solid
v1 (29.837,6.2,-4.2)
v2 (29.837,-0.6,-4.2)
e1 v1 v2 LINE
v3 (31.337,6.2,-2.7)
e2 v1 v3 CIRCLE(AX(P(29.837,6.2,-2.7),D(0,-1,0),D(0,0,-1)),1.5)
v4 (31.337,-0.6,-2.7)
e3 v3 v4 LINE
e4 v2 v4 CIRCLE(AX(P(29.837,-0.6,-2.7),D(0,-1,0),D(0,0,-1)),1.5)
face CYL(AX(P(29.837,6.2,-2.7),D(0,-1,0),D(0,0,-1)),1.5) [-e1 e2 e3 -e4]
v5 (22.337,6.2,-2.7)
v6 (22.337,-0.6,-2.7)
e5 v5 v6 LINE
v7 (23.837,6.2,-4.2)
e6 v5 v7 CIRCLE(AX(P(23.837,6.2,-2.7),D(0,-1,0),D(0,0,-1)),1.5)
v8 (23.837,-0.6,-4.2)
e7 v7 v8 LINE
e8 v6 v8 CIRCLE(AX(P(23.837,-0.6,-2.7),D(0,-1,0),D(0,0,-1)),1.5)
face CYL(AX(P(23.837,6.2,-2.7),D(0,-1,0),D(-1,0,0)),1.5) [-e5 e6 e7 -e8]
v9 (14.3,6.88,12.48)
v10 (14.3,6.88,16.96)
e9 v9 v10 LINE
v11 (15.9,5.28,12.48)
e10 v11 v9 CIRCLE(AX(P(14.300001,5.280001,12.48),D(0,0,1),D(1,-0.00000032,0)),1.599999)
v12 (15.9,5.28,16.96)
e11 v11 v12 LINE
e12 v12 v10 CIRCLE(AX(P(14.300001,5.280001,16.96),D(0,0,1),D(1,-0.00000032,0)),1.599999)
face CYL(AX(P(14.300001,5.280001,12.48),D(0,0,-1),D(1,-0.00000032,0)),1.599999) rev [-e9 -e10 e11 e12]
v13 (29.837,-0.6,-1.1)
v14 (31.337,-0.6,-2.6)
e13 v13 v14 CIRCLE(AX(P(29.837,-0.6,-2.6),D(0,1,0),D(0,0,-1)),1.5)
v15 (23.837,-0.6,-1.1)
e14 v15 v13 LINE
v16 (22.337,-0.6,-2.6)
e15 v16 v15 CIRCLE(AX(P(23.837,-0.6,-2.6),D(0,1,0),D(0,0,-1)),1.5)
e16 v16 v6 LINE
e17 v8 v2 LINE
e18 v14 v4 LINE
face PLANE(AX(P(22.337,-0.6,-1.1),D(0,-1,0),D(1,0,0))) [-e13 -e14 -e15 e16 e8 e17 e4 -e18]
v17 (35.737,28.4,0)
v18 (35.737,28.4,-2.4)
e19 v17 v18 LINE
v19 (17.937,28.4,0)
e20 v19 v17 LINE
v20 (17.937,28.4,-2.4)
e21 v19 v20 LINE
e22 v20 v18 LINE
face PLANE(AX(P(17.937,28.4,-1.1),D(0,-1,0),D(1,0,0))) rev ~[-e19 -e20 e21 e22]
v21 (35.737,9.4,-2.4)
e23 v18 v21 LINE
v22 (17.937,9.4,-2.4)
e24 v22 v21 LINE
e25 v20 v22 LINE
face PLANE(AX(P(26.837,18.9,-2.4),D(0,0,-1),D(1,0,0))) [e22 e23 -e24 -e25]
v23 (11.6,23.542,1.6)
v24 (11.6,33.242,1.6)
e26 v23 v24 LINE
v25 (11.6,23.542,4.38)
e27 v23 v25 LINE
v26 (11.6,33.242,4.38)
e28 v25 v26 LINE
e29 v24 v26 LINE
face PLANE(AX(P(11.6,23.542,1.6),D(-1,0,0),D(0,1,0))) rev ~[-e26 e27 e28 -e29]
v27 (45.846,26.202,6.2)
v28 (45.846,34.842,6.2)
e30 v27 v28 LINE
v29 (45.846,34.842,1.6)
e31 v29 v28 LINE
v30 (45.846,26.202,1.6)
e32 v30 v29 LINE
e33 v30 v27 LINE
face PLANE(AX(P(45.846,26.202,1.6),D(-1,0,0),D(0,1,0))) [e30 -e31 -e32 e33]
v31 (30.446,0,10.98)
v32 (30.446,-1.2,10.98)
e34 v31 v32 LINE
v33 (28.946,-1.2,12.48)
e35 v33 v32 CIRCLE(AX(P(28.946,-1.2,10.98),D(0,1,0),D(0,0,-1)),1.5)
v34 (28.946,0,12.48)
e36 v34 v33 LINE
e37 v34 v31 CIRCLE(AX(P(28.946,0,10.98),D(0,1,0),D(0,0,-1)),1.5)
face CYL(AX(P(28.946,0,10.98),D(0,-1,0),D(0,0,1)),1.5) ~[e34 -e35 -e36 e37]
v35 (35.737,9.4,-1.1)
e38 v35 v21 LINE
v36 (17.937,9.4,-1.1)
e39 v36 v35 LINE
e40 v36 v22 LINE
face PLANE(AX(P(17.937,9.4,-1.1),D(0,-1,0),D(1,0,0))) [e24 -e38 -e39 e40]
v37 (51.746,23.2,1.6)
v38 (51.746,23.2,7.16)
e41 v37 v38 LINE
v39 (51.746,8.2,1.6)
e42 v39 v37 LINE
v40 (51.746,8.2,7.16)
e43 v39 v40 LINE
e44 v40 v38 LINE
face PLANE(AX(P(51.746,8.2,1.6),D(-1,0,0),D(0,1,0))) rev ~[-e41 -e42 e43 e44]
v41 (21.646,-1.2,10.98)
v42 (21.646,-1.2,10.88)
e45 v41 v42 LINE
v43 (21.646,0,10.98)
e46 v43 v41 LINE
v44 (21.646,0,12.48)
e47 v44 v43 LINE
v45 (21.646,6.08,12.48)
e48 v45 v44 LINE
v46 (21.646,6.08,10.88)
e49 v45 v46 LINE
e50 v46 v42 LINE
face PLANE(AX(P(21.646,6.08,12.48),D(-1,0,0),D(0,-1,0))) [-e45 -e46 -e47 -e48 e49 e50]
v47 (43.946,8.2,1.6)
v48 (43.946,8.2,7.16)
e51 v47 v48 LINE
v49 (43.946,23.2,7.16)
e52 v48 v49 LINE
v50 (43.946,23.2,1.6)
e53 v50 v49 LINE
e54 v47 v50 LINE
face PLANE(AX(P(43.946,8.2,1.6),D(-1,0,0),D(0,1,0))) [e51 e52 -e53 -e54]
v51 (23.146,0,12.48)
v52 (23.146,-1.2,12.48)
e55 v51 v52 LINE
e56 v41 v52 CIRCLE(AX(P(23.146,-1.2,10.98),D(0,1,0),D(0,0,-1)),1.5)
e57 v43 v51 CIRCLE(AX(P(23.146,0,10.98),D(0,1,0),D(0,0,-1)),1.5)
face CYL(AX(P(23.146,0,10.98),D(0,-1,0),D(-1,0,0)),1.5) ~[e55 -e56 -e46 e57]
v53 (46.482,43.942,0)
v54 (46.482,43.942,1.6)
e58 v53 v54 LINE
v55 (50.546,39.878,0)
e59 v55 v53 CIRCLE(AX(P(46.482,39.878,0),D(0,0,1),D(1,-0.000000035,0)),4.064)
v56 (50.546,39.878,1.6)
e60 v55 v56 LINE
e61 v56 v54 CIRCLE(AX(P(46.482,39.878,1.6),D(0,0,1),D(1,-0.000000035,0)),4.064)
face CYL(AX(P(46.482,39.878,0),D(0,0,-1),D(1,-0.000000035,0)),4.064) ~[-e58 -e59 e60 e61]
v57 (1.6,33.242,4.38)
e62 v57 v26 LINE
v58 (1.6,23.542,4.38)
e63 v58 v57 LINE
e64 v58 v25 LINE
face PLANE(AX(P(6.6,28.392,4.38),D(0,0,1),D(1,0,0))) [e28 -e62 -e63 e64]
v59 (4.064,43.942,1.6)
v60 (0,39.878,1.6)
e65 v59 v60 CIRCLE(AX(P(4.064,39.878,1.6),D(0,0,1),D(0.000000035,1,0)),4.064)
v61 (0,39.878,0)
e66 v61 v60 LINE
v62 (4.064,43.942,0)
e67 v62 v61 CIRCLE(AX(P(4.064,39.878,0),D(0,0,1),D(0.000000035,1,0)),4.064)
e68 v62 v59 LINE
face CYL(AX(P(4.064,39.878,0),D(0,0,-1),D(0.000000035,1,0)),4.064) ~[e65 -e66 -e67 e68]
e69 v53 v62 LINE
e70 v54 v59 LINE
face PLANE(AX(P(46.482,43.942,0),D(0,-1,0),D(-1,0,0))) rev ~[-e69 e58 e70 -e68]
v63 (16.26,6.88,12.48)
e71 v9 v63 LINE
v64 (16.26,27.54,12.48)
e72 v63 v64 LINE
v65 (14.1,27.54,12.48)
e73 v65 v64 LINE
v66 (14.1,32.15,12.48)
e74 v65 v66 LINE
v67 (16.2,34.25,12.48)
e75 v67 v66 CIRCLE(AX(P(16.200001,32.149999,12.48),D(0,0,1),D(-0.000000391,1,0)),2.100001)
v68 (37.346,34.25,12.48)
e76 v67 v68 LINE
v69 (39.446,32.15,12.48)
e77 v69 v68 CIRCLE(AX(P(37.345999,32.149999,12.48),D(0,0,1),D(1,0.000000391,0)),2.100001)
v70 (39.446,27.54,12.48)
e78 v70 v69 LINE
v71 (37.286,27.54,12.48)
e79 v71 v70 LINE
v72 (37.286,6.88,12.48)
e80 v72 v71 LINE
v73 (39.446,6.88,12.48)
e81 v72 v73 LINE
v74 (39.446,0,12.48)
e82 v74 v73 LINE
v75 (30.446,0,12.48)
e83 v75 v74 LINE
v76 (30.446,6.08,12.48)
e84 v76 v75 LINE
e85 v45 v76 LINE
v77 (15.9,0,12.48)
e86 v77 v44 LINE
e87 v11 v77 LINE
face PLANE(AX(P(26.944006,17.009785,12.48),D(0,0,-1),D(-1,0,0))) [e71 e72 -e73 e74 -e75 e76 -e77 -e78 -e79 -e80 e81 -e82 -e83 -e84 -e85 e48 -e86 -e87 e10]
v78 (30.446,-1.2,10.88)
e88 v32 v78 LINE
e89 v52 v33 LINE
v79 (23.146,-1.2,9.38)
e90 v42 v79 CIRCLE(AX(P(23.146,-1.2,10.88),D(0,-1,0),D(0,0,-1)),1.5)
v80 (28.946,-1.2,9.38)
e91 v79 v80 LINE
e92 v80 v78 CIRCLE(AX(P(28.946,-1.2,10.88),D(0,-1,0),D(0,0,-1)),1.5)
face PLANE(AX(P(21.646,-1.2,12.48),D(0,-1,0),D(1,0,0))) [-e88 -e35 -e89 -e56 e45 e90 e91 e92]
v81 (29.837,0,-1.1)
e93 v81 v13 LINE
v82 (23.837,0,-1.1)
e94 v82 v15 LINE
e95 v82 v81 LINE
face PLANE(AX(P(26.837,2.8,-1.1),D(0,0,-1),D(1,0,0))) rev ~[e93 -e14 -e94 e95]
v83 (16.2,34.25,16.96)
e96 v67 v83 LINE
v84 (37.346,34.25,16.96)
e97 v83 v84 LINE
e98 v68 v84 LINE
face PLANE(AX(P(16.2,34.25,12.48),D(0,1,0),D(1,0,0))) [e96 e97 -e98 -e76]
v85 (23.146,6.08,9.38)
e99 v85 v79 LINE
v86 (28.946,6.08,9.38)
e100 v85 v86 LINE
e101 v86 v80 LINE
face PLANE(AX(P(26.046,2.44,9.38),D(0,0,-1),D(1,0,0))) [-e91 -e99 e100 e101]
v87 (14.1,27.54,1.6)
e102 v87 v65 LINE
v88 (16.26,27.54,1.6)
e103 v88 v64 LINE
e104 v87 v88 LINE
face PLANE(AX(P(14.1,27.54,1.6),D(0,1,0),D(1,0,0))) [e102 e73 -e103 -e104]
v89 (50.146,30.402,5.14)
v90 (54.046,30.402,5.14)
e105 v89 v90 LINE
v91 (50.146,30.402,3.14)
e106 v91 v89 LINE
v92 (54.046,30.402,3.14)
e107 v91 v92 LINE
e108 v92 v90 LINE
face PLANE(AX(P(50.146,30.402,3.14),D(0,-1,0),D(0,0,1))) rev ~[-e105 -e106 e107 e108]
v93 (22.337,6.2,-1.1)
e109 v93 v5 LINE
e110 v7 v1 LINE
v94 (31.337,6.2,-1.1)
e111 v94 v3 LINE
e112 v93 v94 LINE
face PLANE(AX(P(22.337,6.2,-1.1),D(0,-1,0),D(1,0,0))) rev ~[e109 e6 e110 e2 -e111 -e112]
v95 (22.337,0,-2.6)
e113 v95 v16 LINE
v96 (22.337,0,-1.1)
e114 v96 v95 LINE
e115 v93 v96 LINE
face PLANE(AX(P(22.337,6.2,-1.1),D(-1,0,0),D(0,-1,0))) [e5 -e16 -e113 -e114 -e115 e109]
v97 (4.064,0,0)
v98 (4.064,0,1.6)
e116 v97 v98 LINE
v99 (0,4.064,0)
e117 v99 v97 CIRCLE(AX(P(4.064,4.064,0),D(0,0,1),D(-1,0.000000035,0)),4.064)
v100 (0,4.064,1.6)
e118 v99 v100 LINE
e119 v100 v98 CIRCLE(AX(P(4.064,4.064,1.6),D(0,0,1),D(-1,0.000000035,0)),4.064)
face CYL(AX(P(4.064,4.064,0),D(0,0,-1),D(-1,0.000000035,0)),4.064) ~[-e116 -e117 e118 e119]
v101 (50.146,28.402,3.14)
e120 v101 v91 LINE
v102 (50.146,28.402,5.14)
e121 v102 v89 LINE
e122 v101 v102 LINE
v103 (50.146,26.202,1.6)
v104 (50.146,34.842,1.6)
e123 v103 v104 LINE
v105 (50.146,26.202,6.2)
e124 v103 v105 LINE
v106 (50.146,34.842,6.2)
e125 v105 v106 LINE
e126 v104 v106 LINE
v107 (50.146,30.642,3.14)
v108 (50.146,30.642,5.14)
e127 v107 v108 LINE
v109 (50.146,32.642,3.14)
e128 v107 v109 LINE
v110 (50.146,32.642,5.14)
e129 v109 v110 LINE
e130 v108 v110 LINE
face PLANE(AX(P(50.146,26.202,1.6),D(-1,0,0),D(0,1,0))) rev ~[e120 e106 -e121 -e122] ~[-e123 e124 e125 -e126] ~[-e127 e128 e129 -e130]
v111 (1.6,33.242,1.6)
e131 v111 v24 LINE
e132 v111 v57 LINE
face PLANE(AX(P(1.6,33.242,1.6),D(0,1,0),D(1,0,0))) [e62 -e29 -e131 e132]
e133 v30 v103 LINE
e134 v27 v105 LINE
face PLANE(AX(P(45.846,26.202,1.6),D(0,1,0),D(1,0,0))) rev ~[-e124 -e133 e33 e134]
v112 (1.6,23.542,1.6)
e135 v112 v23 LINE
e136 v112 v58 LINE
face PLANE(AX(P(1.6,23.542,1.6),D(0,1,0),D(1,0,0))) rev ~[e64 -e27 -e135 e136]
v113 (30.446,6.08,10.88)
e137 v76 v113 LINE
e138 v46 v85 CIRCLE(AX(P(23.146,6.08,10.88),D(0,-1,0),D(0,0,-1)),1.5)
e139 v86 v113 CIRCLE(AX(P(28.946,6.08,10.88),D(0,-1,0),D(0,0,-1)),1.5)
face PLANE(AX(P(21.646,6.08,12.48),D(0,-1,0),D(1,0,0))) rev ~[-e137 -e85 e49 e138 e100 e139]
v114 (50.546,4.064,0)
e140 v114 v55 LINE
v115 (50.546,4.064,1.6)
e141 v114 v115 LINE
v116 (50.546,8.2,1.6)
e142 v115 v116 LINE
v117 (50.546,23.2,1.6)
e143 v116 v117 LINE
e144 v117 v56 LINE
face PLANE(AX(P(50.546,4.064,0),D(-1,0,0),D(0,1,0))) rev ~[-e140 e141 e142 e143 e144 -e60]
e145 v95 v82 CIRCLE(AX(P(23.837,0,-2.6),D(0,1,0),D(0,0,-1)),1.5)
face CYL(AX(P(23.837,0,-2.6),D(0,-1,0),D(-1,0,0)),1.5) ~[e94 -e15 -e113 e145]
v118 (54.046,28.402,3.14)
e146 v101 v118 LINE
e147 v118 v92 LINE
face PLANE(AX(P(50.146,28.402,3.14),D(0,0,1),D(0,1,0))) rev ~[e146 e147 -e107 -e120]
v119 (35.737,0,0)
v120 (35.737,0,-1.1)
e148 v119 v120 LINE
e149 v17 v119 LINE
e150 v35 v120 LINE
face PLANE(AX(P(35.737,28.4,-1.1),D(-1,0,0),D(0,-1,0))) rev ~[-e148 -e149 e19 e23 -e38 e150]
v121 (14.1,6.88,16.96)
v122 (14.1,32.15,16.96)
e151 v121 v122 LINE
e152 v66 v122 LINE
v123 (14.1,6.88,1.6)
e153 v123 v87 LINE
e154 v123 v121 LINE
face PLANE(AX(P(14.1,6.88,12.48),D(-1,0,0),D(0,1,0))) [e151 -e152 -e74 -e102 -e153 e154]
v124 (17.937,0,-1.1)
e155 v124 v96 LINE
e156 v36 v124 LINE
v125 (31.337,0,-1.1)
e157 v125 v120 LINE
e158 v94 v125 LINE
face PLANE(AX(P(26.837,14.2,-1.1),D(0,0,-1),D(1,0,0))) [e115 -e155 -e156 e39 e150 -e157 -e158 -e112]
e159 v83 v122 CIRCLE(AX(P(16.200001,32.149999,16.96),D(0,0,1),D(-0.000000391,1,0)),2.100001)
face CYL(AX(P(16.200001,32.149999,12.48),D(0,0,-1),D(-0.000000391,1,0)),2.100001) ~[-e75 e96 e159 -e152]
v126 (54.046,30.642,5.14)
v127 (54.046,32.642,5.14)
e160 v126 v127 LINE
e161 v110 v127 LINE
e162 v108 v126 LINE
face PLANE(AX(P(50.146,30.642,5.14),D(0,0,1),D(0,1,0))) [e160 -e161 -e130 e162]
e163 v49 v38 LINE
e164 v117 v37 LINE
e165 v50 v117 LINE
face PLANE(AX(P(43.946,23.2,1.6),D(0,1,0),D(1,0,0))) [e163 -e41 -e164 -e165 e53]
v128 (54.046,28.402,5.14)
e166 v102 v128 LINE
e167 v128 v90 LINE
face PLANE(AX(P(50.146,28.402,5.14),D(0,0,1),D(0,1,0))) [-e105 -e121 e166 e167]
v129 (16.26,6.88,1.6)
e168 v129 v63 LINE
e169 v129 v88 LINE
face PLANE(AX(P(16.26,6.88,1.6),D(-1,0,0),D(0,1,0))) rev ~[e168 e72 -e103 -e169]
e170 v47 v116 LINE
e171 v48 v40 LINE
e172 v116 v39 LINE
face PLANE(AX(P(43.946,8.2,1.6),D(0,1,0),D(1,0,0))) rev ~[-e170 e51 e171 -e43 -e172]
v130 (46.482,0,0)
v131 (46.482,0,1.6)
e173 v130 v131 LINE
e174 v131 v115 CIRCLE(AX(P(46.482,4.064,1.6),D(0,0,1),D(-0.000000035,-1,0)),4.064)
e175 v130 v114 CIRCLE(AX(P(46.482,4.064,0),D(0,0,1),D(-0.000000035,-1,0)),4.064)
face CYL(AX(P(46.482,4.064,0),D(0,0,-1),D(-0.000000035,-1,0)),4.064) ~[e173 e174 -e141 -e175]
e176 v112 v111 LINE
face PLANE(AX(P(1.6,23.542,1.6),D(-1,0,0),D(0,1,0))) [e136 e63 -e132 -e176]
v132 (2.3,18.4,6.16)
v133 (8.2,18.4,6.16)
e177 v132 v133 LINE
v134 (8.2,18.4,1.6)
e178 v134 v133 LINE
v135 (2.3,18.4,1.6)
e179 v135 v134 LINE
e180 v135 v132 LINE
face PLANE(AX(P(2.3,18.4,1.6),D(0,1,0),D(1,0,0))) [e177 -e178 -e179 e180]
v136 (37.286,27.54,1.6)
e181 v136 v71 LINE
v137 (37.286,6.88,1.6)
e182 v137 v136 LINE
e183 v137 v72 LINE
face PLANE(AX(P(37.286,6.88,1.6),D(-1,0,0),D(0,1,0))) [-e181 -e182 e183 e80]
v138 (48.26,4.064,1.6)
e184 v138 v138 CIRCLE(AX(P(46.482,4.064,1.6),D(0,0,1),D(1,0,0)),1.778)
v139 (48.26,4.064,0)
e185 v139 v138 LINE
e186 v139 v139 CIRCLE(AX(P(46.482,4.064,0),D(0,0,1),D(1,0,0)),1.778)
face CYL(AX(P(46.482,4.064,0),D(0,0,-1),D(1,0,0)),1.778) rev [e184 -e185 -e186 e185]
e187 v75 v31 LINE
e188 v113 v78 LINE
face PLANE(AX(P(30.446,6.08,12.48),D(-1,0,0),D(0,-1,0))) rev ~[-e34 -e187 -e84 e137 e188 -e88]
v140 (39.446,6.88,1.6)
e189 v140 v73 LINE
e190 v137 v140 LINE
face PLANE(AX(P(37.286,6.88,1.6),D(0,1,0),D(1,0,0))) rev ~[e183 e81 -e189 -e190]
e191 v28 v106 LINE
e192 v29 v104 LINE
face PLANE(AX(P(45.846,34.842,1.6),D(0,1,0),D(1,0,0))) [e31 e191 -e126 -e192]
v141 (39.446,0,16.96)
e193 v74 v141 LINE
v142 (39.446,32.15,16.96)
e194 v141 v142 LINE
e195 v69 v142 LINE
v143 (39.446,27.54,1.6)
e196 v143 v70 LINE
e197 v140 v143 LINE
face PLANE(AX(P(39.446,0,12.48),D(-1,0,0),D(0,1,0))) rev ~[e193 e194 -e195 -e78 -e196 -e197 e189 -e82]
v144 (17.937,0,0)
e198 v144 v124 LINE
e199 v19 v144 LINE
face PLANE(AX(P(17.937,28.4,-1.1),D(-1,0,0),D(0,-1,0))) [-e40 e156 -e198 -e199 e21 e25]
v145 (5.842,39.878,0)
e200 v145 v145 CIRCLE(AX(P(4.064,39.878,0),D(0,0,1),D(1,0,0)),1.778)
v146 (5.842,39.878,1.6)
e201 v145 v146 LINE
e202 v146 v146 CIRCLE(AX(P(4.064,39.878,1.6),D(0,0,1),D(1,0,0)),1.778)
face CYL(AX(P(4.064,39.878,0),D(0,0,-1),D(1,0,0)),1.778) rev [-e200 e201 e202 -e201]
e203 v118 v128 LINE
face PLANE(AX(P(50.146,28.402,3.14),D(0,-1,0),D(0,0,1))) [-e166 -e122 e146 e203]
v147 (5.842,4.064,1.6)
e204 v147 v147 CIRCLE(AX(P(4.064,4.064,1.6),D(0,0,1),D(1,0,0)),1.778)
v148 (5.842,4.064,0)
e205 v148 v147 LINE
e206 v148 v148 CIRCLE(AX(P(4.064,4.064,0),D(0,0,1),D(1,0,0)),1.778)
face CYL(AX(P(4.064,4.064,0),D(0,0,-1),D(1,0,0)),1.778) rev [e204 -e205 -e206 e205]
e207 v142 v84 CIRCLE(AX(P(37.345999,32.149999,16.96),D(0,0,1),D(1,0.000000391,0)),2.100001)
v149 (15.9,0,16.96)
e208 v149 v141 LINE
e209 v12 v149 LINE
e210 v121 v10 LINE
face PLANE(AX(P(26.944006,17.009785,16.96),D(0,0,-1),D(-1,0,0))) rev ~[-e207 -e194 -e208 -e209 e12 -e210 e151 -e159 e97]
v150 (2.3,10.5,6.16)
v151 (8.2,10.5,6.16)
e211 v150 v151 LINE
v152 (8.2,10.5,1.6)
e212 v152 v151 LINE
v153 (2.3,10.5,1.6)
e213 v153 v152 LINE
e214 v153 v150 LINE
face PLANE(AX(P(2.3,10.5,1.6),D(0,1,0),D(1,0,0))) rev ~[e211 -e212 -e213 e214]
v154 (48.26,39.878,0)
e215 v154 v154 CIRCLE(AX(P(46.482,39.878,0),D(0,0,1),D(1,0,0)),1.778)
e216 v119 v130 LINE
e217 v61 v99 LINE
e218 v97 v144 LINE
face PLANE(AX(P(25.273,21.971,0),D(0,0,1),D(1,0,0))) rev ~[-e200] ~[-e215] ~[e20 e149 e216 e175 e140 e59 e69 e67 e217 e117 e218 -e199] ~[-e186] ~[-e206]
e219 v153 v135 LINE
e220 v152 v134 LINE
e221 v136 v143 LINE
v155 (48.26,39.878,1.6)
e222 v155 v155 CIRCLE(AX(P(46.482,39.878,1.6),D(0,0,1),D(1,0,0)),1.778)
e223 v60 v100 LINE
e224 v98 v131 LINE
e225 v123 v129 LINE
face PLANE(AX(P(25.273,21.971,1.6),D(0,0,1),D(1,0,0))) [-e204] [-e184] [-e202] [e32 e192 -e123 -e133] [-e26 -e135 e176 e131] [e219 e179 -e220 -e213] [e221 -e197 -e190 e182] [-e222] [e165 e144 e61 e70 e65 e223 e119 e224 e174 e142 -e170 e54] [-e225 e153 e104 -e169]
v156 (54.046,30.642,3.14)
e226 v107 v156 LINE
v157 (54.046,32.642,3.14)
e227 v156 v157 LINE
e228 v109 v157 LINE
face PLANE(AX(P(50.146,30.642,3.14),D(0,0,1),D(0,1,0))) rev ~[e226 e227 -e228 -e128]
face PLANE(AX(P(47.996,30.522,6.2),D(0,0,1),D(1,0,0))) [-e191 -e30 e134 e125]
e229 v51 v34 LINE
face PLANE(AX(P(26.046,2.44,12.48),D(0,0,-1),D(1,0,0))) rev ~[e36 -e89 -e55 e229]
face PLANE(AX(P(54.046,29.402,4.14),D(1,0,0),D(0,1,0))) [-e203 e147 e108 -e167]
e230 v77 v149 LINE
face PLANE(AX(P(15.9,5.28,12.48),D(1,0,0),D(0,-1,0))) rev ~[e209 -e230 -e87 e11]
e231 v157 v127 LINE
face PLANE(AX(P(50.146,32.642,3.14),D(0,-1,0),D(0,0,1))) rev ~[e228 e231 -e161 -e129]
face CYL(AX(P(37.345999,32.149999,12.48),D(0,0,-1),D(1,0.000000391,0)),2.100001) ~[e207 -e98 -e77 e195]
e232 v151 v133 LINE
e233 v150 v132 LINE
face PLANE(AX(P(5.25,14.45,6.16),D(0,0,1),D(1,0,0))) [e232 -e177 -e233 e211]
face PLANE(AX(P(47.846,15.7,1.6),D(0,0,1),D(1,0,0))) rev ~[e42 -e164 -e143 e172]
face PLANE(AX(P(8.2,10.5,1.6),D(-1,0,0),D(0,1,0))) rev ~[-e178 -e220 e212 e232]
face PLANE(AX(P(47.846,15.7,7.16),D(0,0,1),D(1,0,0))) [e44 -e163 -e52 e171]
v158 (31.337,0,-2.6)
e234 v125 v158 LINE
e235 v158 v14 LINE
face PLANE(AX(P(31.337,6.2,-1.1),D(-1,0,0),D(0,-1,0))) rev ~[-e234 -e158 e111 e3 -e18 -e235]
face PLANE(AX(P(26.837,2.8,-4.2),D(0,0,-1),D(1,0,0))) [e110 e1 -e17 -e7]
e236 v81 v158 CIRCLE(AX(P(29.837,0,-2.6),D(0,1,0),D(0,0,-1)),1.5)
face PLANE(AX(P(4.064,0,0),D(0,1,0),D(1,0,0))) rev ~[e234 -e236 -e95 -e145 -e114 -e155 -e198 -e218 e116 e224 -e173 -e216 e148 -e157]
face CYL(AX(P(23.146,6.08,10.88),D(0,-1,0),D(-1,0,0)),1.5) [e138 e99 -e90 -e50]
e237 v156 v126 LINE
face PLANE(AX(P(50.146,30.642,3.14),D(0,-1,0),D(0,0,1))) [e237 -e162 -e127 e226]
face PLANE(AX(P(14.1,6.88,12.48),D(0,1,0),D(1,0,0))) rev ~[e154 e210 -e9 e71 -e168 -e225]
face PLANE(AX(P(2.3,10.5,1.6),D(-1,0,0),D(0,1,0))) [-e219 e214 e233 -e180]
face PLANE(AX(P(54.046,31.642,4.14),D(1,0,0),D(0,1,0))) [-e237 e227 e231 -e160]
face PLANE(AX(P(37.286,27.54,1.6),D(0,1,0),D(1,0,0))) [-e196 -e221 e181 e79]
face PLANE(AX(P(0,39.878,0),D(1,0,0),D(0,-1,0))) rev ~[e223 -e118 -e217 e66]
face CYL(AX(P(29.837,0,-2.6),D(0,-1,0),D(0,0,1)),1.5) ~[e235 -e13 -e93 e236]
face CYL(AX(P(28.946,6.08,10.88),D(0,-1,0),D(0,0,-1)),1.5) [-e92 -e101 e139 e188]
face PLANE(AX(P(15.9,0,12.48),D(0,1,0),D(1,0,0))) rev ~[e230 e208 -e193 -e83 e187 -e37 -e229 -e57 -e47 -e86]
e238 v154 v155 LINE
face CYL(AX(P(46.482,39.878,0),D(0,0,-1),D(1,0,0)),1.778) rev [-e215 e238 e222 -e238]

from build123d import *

# Parameters (mm, degrees)
SKETCH_R     = 1.778
PAD_DEPTH    = 1.6
SKETCH001_W  = 2.16
SKETCH001_H  = 20.66
PAD001_DEPTH = 10.88
PAD002_DEPTH = 4.48
SKETCH003_W  = 8.8
SKETCH003_H  = 7.28
PAD003_DEPTH = 3.1
FILLET_R     = 1.5
SKETCH004_W  = 17.8
SKETCH004_H  = 28.4
PAD004_DEPTH = 1.1
SKETCH005_W  = 9
SKETCH005_H  = 6.8
PAD005_DEPTH = 3.1
FILLET001_R  = 1.5
SKETCH006_W  = 7.8
SKETCH006_H  = 15
PAD006_DEPTH = 5.56
SKETCH007_W  = 4.3
SKETCH007_H  = 8.64
PAD007_DEPTH = 4.6
SKETCH008_W  = 2
SKETCH008_H  = 2
PAD008_DEPTH = 3.9
SKETCH009_W  = 5.9
SKETCH009_H  = 7.9
PAD009_DEPTH = 4.56
SKETCH010_W  = 10
SKETCH010_H  = 9.7
PAD010_DEPTH = 2.78
SKETCH011_W  = 17.8
SKETCH011_H  = 19
PAD011_DEPTH = 1.3


with BuildPart() as part:
    # Sketch → Pad (new body)
    with BuildSketch(Plane.XY):
        with BuildLine():
            Line((4.064, 0), (46.482, 0))
            ThreePointArc((46.482, 0), (49.355682, 1.190318), (50.546, 4.064))
            Line((50.546, 4.064), (50.546, 39.878))
            ThreePointArc((50.546, 39.878), (49.355682, 42.751682), (46.482, 43.942))
            Line((46.482, 43.942), (4.064, 43.942))
            ThreePointArc((4.064, 43.942), (1.190318, 42.751682), (0, 39.878))
            Line((0, 39.878), (0, 4.064))
            ThreePointArc((0, 4.064), (1.190318, 1.190318), (4.064, 0))
        make_face()
        with Locations((4.064, 39.878)):
            Circle(SKETCH_R, mode=Mode.SUBTRACT)
        with Locations((46.482, 39.878)):
            Circle(SKETCH_R, mode=Mode.SUBTRACT)
        with Locations((46.482, 4.064)):
            Circle(SKETCH_R, mode=Mode.SUBTRACT)
        with Locations((4.064, 4.064)):
            Circle(SKETCH_R, mode=Mode.SUBTRACT)
    extrude(amount=PAD_DEPTH)

    # Sketch001 (on Face14 of Pad) → Pad001 (join)
    with BuildSketch(Plane.XY.offset(1.6)):
        with Locations((15.18, 17.21)):
            Rectangle(SKETCH001_W, SKETCH001_H)
        with Locations((38.366, 17.21)):
            Rectangle(SKETCH001_W, SKETCH001_H)
    extrude(amount=PAD001_DEPTH)

    # Sketch002 (on Face23 of Pad001) → Pad002 (join)
    with BuildSketch(Plane.XY.offset(12.48)):
        with BuildLine():
            Line((14.1, 6.88), (14.1, 32.15))
            ThreePointArc((16.2, 34.25), (14.715076, 33.634924), (14.1, 32.15))
            Line((16.2, 34.25), (37.346, 34.25))
            ThreePointArc((39.446, 32.15), (38.830924, 33.634924), (37.346, 34.25))
            Line((39.446, 0), (39.446, 32.15))
            Line((15.9, 0), (39.446, 0))
            Line((15.9, 5.28), (15.9, 0))
            ThreePointArc((15.9, 5.28), (15.431371, 6.411371), (14.3, 6.88))
            Line((14.1, 6.88), (14.3, 6.88))
        make_face()
    extrude(amount=PAD002_DEPTH)

    # Sketch003 (on Face24 of Pad002) → Pad003 (join)
    with BuildSketch(Plane(origin=(0, 0, 12.48), x_dir=(1, 0, 0), z_dir=(0, 0, -1))):
        with Locations((26.046, -2.44)):
            Rectangle(SKETCH003_W, SKETCH003_H)
    extrude(amount=PAD003_DEPTH)

    # Fillet
    fillet_edges = [part.edges().sort_by_distance(p)[0] for p in [
        (21.646, -0.6, 12.48),
        (30.446, -0.6, 12.48),
        (30.446, 2.44, 9.38),
        (21.646, 2.44, 9.38),
    ]]
    fillet(fillet_edges, radius=FILLET_R)

    # Sketch004 (on Face43 of Fillet) → Pad004 (join)
    with BuildSketch(Plane(origin=(0, 0, 0), x_dir=(1, 0, 0), z_dir=(0, 0, -1))):
        with Locations((26.837, -14.2)):
            Rectangle(SKETCH004_W, SKETCH004_H)
    extrude(amount=PAD004_DEPTH)

    # Sketch005 (on Face48 of Pad004) → Pad005 (join)
    with BuildSketch(Plane(origin=(0, 0, -1.1), x_dir=(1, 0, 0), z_dir=(0, 0, -1))):
        with Locations((26.837, -2.8)):
            Rectangle(SKETCH005_W, SKETCH005_H)
    extrude(amount=PAD005_DEPTH)

    # Fillet001
    fillet001_edges = [part.edges().sort_by_distance(p)[0] for p in [
        (31.337, -0.3, -1.1),
        (22.337, -0.3, -1.1),
        (31.337, 2.8, -4.2),
        (22.337, 2.8, -4.2),
    ]]
    fillet(fillet001_edges, radius=FILLET001_R)

    # Sketch006 (on Face19 of Fillet001) → Pad006 (join)
    with BuildSketch(Plane.XY.offset(1.6)):
        with Locations((47.846, 15.7)):
            Rectangle(SKETCH006_W, SKETCH006_H)
    extrude(amount=PAD006_DEPTH)

    # Sketch007 (on Face19 of Pad006) → Pad007 (join)
    with BuildSketch(Plane.XY.offset(1.6)):
        with Locations((47.996, 30.522)):
            Rectangle(SKETCH007_W, SKETCH007_H)
    extrude(amount=PAD007_DEPTH)

    # Sketch008 (on Face43 of Pad007) → Pad008 (join)
    with BuildSketch(Plane.YZ.offset(50.146)):
        with Locations((31.642, 4.14)):
            Rectangle(SKETCH008_W, SKETCH008_H)
        with Locations((29.402, 4.14)):
            Rectangle(SKETCH008_W, SKETCH008_H)
    extrude(amount=PAD008_DEPTH)

    # Sketch009 (on Face19 of Pad008) → Pad009 (join)
    with BuildSketch(Plane.XY.offset(1.6)):
        with Locations((5.25, 14.45)):
            Rectangle(SKETCH009_W, SKETCH009_H)
    extrude(amount=PAD009_DEPTH)

    # Sketch010 (on Face19 of Pad009) → Pad010 (join)
    with BuildSketch(Plane.XY.offset(1.6)):
        with Locations((6.6, 28.392)):
            Rectangle(SKETCH010_W, SKETCH010_H)
    extrude(amount=PAD010_DEPTH)

    # Sketch011 (on Face7 of Pad010) → Pad011 (join)
    with BuildSketch(Plane(origin=(0, 0, -1.1), x_dir=(1, 0, 0), z_dir=(0, 0, -1))):
        with Locations((26.837, -18.9)):
            Rectangle(SKETCH011_W, SKETCH011_H)
    extrude(amount=PAD011_DEPTH)


solid = part.part
